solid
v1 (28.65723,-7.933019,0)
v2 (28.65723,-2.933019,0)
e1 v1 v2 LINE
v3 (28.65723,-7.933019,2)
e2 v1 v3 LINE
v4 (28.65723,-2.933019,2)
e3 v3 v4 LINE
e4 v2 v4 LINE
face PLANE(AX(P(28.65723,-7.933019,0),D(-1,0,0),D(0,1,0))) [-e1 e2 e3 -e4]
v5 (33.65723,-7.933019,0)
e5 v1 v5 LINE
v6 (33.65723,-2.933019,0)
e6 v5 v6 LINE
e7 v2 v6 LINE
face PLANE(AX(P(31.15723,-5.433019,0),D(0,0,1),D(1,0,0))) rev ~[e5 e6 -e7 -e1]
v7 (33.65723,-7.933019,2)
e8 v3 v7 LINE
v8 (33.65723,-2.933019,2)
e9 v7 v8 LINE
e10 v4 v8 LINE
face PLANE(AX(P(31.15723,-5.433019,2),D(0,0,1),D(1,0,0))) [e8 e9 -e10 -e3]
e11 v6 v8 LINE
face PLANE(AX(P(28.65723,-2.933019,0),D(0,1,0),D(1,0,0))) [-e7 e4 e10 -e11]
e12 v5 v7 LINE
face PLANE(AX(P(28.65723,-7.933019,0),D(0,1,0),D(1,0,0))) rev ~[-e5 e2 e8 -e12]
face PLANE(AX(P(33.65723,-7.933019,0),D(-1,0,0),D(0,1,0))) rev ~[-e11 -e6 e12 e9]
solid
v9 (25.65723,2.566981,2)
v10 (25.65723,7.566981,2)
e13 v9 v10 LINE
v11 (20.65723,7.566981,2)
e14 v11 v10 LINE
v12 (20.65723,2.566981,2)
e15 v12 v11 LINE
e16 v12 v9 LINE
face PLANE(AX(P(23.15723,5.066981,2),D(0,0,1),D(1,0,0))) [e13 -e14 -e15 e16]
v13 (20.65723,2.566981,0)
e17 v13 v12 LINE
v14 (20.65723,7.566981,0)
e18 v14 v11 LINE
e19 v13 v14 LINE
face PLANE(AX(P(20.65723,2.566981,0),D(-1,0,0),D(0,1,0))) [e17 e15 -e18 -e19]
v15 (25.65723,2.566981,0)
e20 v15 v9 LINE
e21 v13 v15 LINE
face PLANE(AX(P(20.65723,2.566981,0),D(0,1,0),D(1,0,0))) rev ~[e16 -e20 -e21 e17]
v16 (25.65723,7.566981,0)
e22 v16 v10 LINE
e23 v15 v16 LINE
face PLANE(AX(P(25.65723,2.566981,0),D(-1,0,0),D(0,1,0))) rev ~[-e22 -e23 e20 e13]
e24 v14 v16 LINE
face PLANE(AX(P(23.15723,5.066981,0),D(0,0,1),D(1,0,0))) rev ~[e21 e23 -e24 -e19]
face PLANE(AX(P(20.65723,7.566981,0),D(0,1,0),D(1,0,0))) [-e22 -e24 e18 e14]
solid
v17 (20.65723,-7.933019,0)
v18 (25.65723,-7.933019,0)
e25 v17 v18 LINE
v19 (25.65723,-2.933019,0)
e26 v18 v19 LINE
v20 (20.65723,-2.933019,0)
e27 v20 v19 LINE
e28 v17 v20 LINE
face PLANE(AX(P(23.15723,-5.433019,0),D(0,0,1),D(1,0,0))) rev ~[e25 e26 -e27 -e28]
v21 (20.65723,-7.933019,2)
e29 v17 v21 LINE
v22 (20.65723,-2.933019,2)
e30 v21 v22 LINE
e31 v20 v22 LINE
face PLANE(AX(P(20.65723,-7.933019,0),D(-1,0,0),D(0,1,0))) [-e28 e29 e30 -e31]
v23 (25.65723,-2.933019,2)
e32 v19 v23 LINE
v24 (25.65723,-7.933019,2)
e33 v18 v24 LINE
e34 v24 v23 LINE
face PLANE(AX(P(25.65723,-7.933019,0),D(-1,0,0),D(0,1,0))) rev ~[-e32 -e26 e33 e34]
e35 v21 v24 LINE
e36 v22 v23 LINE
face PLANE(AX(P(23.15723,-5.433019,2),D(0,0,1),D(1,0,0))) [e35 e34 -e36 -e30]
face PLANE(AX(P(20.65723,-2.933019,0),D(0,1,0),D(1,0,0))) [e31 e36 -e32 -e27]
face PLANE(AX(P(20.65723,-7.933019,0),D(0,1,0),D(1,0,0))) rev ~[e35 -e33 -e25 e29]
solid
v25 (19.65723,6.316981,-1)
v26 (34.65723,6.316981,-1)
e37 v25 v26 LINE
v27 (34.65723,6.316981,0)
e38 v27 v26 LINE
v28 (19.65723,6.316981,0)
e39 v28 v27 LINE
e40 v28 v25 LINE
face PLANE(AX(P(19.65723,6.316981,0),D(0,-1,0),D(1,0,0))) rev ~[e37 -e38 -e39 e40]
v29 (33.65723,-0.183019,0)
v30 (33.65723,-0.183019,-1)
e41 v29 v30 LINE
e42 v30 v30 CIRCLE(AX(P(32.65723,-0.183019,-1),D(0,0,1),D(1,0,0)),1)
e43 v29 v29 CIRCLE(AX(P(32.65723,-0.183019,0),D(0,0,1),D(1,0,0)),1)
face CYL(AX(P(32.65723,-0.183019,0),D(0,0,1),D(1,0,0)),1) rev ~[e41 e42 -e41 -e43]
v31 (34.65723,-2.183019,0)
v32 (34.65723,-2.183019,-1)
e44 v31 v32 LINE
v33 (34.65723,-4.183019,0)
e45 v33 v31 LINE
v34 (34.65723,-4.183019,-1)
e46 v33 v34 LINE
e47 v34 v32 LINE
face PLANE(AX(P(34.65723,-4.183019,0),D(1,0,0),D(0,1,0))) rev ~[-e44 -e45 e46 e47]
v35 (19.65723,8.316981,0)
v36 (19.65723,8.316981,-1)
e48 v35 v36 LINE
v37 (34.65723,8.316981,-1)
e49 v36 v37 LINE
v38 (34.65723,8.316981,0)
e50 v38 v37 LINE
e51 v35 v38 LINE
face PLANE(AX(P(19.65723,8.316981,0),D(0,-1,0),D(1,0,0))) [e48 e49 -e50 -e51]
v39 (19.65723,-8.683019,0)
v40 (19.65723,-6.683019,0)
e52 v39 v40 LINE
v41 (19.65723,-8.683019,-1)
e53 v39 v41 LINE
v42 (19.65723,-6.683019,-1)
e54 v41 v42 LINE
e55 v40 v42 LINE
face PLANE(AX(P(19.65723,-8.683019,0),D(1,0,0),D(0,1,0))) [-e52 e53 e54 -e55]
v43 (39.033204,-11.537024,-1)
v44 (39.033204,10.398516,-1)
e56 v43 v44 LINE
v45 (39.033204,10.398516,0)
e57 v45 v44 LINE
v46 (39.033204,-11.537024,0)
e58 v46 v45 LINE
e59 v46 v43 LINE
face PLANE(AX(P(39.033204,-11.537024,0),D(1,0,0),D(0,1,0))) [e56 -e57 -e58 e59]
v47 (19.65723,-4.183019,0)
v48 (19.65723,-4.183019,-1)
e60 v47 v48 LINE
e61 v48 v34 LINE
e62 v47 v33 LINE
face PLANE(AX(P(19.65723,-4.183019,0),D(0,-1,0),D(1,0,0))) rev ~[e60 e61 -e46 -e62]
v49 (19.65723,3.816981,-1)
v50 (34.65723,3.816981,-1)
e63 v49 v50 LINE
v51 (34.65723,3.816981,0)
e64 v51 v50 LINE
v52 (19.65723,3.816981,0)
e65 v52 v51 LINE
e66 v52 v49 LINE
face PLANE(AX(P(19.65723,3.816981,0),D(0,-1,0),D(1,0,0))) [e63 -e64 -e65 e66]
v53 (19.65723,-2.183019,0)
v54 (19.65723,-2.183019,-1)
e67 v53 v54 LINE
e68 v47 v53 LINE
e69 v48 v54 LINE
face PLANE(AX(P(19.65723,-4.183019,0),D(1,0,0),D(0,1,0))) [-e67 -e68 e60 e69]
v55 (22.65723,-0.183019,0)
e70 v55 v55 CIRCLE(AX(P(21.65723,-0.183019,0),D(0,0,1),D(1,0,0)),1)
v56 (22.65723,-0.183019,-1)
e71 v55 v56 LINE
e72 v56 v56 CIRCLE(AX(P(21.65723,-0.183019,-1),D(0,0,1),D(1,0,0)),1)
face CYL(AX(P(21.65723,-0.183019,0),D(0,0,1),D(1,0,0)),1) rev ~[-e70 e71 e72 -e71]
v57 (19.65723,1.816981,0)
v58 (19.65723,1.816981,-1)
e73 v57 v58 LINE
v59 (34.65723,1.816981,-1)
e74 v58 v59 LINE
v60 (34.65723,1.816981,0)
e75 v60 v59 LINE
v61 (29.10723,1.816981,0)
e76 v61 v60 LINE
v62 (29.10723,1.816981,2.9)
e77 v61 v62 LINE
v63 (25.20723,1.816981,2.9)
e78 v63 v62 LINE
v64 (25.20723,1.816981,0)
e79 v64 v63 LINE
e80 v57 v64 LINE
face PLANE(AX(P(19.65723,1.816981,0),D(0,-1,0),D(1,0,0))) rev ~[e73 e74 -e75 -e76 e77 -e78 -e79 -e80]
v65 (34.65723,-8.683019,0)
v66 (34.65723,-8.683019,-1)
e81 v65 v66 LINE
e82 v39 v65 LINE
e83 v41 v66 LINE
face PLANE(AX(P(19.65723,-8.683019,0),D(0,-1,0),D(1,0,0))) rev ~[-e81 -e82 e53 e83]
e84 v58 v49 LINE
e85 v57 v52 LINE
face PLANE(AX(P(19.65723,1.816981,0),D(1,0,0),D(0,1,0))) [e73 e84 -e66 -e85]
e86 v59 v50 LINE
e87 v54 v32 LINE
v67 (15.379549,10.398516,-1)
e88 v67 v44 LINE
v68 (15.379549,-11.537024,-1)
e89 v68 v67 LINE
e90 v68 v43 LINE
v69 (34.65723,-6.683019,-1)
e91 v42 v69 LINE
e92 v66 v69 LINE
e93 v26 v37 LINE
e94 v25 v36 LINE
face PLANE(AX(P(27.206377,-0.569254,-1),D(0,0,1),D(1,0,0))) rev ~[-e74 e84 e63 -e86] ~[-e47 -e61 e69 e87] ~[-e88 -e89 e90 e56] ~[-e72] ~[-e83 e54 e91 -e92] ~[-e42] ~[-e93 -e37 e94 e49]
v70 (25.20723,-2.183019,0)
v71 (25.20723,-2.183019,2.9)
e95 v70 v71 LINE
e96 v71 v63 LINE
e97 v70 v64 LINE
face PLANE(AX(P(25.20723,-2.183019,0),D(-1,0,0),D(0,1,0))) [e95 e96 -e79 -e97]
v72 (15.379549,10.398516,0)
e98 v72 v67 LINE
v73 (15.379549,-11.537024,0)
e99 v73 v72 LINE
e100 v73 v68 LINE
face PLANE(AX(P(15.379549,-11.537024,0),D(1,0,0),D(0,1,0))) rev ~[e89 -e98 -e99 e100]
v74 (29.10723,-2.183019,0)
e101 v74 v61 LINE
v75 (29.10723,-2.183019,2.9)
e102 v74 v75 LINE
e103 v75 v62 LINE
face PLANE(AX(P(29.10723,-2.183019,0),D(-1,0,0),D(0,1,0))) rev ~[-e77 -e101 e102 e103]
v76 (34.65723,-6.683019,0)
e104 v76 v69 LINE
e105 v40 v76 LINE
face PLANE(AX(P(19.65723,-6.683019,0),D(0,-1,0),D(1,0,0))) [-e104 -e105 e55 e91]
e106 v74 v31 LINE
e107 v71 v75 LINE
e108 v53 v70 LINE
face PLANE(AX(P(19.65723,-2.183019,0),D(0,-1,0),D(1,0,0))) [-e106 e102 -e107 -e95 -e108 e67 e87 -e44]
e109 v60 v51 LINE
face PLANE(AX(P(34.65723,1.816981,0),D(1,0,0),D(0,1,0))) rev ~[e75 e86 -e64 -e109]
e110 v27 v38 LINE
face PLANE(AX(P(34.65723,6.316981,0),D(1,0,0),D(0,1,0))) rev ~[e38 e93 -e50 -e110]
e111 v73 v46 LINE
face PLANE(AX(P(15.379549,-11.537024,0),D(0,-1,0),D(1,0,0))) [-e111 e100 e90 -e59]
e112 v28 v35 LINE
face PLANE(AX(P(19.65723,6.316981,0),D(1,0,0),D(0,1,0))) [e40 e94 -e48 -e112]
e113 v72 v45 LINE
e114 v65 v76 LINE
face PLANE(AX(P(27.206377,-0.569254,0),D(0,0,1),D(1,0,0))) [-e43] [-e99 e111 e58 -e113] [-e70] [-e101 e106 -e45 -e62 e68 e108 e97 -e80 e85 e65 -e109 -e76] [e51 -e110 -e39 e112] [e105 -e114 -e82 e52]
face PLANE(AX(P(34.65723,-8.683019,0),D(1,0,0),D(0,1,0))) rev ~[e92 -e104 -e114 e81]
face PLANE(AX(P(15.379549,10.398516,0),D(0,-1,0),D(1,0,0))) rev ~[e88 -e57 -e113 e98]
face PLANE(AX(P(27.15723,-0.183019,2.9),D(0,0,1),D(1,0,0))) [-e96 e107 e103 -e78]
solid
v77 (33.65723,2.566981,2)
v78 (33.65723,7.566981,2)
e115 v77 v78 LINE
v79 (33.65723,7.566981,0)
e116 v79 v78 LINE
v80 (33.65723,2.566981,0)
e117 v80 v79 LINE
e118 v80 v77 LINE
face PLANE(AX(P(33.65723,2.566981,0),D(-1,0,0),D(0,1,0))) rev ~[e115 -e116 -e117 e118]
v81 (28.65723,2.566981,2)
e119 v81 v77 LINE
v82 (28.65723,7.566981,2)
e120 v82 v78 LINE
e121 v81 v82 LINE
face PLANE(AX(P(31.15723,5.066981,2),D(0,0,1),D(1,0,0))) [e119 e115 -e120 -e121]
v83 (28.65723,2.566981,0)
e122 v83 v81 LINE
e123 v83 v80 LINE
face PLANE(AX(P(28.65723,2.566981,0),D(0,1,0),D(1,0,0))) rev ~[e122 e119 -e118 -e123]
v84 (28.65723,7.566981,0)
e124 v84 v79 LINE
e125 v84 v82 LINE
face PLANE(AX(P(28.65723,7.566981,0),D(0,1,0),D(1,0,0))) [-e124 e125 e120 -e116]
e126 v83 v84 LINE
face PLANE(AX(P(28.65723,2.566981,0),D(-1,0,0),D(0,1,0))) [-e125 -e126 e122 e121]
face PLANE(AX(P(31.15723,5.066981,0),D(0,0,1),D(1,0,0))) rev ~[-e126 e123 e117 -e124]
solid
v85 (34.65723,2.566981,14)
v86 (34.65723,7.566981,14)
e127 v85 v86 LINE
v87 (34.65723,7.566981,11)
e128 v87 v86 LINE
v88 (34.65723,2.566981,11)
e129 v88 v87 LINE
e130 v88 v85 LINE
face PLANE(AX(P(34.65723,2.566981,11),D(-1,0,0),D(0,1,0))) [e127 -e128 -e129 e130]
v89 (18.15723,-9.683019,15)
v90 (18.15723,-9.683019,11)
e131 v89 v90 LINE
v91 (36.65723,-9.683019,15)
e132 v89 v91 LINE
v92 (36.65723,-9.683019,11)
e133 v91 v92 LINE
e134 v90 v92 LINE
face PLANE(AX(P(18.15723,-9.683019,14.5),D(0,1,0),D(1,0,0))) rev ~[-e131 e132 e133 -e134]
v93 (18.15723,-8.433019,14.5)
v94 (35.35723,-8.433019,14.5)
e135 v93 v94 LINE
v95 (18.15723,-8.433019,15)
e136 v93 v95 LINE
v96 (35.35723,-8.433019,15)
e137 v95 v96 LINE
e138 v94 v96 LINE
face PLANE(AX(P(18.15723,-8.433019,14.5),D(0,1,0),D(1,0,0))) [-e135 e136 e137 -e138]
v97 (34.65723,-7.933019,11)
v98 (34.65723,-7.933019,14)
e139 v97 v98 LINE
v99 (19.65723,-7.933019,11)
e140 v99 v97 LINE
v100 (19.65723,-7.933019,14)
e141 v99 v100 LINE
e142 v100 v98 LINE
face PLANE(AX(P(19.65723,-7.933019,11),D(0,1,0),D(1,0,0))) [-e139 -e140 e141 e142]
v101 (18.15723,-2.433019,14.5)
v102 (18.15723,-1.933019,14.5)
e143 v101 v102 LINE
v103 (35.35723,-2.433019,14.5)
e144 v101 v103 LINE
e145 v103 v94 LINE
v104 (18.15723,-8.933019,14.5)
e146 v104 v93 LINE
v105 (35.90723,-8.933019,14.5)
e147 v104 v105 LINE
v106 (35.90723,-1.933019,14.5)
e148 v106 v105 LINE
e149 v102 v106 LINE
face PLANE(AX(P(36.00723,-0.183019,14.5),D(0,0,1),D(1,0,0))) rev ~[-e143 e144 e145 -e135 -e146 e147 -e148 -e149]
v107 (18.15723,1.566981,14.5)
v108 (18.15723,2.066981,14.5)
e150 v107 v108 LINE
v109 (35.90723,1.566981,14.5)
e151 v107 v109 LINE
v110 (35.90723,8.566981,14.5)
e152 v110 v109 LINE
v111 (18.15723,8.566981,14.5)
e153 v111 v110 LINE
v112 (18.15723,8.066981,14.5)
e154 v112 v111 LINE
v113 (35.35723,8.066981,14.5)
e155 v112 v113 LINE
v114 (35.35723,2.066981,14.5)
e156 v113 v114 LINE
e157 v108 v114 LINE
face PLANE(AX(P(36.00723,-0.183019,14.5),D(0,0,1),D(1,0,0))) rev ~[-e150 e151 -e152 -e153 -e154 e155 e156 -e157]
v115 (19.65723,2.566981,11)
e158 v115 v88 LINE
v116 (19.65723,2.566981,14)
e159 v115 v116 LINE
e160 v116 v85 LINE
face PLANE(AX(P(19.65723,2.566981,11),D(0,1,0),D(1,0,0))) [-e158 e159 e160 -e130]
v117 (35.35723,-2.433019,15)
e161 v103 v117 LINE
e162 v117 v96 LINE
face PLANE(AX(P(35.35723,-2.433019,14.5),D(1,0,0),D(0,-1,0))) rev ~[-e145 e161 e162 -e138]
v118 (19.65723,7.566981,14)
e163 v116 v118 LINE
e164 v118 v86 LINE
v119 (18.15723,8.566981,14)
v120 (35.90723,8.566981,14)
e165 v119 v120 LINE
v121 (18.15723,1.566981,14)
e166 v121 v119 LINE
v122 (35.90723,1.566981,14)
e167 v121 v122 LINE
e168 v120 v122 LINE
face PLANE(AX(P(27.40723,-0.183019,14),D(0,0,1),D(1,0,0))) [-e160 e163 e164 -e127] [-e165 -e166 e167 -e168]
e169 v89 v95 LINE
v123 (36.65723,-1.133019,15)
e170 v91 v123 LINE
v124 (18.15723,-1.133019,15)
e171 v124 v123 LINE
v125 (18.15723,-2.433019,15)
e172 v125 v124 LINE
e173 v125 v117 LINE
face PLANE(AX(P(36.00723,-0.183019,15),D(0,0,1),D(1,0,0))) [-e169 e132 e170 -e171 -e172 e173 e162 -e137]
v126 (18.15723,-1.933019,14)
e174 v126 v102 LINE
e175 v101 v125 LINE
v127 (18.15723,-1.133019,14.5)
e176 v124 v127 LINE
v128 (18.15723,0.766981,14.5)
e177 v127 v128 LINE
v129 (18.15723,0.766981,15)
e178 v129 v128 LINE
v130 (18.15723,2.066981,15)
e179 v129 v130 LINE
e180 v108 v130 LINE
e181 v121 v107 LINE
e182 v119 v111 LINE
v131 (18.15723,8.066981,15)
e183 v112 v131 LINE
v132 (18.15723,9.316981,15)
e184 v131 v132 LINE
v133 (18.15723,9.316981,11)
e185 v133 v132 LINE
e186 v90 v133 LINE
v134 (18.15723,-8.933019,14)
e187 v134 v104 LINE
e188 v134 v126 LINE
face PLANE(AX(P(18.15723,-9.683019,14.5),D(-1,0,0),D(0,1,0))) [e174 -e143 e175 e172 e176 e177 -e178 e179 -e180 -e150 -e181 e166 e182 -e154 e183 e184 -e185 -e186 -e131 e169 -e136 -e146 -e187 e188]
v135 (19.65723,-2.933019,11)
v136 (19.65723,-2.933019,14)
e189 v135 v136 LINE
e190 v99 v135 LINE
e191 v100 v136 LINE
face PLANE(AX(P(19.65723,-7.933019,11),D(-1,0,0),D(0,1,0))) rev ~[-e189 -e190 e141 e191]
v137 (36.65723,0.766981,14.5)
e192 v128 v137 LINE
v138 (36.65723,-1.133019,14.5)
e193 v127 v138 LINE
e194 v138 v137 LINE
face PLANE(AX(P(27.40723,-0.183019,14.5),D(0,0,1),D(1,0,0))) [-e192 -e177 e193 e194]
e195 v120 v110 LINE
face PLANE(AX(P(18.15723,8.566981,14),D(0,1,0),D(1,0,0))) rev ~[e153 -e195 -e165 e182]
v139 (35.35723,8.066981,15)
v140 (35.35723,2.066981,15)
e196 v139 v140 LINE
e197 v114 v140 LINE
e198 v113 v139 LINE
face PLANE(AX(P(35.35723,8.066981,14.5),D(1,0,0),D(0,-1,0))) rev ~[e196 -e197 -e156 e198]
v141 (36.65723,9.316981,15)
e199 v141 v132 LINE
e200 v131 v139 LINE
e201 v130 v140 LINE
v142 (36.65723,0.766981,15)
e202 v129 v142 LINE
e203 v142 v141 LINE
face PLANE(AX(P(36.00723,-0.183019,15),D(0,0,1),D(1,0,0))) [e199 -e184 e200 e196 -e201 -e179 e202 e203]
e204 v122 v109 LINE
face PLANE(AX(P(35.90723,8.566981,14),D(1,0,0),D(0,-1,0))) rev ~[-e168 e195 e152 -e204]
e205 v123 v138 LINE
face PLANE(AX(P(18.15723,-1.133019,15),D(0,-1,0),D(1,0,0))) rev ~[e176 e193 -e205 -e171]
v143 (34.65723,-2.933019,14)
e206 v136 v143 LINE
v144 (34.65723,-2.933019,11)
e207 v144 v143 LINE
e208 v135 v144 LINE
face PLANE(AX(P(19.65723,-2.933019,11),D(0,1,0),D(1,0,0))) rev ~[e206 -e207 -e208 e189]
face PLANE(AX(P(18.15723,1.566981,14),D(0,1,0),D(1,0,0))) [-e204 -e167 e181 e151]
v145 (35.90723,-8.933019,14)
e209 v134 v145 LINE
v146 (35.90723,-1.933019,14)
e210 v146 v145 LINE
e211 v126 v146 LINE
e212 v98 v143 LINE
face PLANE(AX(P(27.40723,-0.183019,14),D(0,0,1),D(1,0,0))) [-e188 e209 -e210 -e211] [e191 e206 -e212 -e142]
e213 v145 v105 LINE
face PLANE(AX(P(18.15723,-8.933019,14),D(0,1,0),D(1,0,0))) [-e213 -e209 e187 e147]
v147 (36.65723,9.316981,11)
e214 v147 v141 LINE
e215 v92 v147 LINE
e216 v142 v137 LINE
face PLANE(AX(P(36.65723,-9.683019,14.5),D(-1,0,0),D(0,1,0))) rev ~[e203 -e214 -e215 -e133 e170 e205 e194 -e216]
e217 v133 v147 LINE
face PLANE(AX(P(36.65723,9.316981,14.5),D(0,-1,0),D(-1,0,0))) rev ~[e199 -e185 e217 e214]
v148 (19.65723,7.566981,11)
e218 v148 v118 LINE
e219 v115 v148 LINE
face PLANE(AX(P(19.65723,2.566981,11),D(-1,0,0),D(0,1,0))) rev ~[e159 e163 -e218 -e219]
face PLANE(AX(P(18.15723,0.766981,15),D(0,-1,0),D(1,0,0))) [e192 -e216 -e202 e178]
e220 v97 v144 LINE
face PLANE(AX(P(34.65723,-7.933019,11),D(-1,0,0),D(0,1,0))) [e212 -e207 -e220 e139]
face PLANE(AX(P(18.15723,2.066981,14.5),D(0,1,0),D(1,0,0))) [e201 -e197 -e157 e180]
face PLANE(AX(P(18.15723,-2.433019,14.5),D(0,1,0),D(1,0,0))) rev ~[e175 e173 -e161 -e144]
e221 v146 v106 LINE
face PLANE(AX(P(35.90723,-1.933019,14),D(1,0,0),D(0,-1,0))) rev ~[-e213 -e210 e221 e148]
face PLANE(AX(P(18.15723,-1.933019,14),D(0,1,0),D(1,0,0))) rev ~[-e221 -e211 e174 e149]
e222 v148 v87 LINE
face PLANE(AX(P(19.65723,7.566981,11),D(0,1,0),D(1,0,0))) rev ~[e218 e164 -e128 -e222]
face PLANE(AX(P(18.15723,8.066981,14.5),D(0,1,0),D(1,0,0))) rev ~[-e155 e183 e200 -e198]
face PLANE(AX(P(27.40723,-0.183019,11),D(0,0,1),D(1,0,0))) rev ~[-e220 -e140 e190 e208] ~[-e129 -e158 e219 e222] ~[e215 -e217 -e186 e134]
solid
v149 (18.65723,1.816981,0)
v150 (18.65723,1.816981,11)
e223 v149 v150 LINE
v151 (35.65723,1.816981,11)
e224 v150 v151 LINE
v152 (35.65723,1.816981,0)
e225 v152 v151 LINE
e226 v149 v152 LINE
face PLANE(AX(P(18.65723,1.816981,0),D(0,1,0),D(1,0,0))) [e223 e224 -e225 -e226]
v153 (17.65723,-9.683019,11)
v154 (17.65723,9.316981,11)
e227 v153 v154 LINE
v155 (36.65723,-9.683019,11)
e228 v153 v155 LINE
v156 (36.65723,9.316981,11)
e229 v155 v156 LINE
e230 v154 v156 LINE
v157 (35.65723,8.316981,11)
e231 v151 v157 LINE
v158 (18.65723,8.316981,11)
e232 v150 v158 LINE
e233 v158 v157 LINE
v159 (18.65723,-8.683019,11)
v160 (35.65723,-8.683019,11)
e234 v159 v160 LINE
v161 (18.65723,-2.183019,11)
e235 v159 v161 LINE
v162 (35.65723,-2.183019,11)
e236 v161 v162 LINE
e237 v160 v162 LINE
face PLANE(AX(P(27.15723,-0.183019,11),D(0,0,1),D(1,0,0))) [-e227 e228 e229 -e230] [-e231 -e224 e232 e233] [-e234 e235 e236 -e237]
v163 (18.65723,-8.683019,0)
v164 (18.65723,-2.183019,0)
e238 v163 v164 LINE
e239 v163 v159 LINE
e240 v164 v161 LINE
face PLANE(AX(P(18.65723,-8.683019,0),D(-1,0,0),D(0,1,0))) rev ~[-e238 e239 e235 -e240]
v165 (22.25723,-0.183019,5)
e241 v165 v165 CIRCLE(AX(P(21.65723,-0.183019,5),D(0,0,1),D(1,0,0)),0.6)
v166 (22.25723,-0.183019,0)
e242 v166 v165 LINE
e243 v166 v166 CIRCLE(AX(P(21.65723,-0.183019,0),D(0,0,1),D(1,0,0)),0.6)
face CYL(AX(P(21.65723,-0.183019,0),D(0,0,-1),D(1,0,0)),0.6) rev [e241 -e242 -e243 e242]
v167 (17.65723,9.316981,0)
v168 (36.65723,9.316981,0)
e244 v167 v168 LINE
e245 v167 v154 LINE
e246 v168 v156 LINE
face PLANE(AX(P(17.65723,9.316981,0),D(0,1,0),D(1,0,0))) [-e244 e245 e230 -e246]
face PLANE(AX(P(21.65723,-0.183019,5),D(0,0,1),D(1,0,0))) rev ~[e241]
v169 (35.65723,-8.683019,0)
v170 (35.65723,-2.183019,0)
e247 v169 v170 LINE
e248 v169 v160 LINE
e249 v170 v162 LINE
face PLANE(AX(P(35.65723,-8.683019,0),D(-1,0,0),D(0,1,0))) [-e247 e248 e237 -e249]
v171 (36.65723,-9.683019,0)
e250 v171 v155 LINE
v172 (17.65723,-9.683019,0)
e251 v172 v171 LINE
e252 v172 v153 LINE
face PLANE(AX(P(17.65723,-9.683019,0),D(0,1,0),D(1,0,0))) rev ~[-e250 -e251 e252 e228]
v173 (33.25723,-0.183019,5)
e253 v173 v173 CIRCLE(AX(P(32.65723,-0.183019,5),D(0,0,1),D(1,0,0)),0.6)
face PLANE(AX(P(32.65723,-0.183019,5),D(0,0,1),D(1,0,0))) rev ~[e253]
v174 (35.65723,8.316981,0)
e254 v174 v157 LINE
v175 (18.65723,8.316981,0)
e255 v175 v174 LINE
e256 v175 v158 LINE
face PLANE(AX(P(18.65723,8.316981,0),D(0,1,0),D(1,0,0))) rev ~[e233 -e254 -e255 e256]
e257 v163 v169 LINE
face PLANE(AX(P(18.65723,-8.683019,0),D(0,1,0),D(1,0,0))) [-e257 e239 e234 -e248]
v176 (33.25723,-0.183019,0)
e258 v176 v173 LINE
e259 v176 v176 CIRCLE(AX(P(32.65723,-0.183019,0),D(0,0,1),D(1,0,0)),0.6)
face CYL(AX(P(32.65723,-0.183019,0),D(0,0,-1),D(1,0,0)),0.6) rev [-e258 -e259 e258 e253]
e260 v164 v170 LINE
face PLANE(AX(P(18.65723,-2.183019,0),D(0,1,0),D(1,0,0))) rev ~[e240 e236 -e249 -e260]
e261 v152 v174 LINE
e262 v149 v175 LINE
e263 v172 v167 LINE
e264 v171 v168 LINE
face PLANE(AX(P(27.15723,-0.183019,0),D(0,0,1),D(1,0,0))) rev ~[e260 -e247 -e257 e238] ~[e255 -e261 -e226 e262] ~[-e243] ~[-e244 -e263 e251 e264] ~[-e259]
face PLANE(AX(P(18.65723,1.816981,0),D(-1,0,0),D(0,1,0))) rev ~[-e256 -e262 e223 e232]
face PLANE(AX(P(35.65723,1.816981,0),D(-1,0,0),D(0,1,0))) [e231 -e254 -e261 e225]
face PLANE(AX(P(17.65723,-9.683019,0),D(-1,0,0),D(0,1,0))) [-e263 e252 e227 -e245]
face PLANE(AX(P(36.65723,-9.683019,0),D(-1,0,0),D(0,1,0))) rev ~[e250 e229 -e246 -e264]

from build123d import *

# Parameters (mm, degrees)
F0_W      = 19
F0_H      = 19
F0_W_2    = 17
F0_H_2    = 6.5
F1_DEPTH  = 11
F2_W      = 5
F2_H      = 5
F3_DEPTH  = 2
F4_W      = 18.5
F4_H      = 19
F4_W_2    = 15
F4_H_2    = 5
F5_DEPTH  = 3
F6_W      = 17.75
F6_H      = 0.75
F6_H_2    = 3.5
F7_DEPTH  = 0.5
F8_W      = 17.2
F8_H      = 1.25
F8_H_2    = 4.5
F9_DEPTH  = 0.5
F10_W     = 18.5
F10_H     = 1.9
F11_DEPTH = 0.5
F12_W     = 23.653655313
F12_H     = 21.9355393201
F12_W_2   = 15
F12_H_2   = 2
F12_R     = 1
F13_DEPTH = 1
F14_W     = 3.9
F14_H     = 4
F15_DEPTH = 2.9
F16_R     = 0.6
F17_DEPTH = 5


with BuildPart() as f1:
    # F0 (on Top) → F1 (new body)
    with BuildSketch(Plane.XY):
        with Locations((27.1572303065, -0.1830193214)):
            Rectangle(F0_W, F0_H)
        with Locations((27.1572303065, -5.4330193214)):
            Rectangle(F0_W_2, F0_H_2, mode=Mode.SUBTRACT)
        with Locations((27.1572303065, 5.0669806786)):
            Rectangle(F0_W_2, F0_H_2, mode=Mode.SUBTRACT)
    extrude(amount=F1_DEPTH)

    # F16 (on face) → F17 (cut)
    with BuildSketch(Plane.XY):
        with Locations((21.6572303065, -0.1830193214)):
            Circle(F16_R)
        with Locations((32.6572303065, -0.1830193214)):
            Circle(F16_R)
    extrude(amount=F17_DEPTH, mode=Mode.SUBTRACT)


with BuildPart() as f3:
    # F2 (on Top) → F3 (new body)
    with BuildSketch(Plane.XY):
        with Locations((23.1572303065, 5.0669806786)):
            Rectangle(F2_W, F2_H)
    extrude(amount=F3_DEPTH)


with BuildPart() as f3b:
    # F2 (on Top) → F3, piece 2 (new body)
    with BuildSketch(Plane.XY):
        with Locations((23.1572303065, -5.4330193214)):
            Rectangle(F2_W, F2_H)
    extrude(amount=F3_DEPTH)


with BuildPart() as f3c:
    # F2 (on Top) → F3, piece 3 (new body)
    with BuildSketch(Plane.XY):
        with Locations((31.1572303065, 5.0669806786)):
            Rectangle(F2_W, F2_H)
    extrude(amount=F3_DEPTH)


with BuildPart() as f3d:
    # F2 (on Top) → F3, piece 4 (new body)
    with BuildSketch(Plane.XY):
        with Locations((31.1572303065, -5.4330193214)):
            Rectangle(F2_W, F2_H)
    extrude(amount=F3_DEPTH)


with BuildPart() as f5:
    # F4 (on face) → F5 (new body)
    with BuildSketch(Plane.XY.offset(11)):
        with Locations((27.4072303065, -0.1830193214)):
            Rectangle(F4_W, F4_H)
        with Locations((27.1572303065, -5.4330193214)):
            Rectangle(F4_W_2, F4_H_2, mode=Mode.SUBTRACT)
        with Locations((27.1572303065, 5.0669806786)):
            Rectangle(F4_W_2, F4_H_2, mode=Mode.SUBTRACT)
    extrude(amount=F5_DEPTH)

    # F6 (on face) → F7 (join)
    with BuildSketch(Plane.XY.offset(14)):
        Polygon((36.6572303065, -9.6830193214), (36.6572303065, 9.3169806786), (35.9072303065, 9.3169806786), (35.9072303065, 8.5669806786), (35.9072303065, 1.5669806786), (35.9072303065, -1.9330193214), (35.9072303065, -8.9330193214), (35.9072303065, -9.6830193214), align=None)
        with Locations((27.0322303065, 8.9419806786)):
            Rectangle(F6_W, F6_H)
        with Locations((27.0322303065, -9.3080193214)):
            Rectangle(F6_W, F6_H)
        with Locations((27.0322303065, -0.1830193214)):
            Rectangle(F6_W, F6_H_2)
    extrude(amount=F7_DEPTH)

    # F8 (on face) → F9 (join)
    with BuildSketch(Plane.XY.offset(14.5)):
        Polygon((36.6572303065, -9.6830193214), (36.6572303065, 9.3169806786), (35.3572303065, 9.3169806786), (35.3572303065, 8.0669806786), (35.3572303065, 2.0669806786), (35.3572303065, -2.4330193214), (35.3572303065, -8.4330193214), (35.3572303065, -9.6830193214), align=None)
        with Locations((26.7572303065, 8.6919806786)):
            Rectangle(F8_W, F8_H)
        with Locations((26.7572303065, -9.0580193214)):
            Rectangle(F8_W, F8_H)
        with Locations((26.7572303065, -0.1830193214)):
            Rectangle(F8_W, F8_H_2)
    extrude(amount=F9_DEPTH)

    # F10 (on face) → F11 (cut)
    with BuildSketch(Plane.XY.offset(15)):
        with Locations((27.4072303065, -0.1830193214)):
            Rectangle(F10_W, F10_H)
    extrude(amount=-F11_DEPTH, mode=Mode.SUBTRACT)


with BuildPart() as f13:
    # F12 (on Top) → F13 (new body)
    with BuildSketch(Plane.XY):
        with Locations((27.2063766606, -0.5692541599)):
            Rectangle(F12_W, F12_H)
        with Locations((27.1572303065, -7.6830193214)):
            Rectangle(F12_W_2, F12_H_2, mode=Mode.SUBTRACT)
        with Locations((27.1572303065, -3.1830193214)):
            Rectangle(F12_W_2, F12_H_2, mode=Mode.SUBTRACT)
        with Locations((21.6572303065, -0.1830193214)):
            Circle(F12_R, mode=Mode.SUBTRACT)
        with Locations((27.1572303065, 2.8169806786)):
            Rectangle(F12_W_2, F12_H_2, mode=Mode.SUBTRACT)
        with Locations((27.1572303065, 7.3169806786)):
            Rectangle(F12_W_2, F12_H_2, mode=Mode.SUBTRACT)
        with Locations((32.6572303065, -0.1830193214)):
            Circle(F12_R, mode=Mode.SUBTRACT)
    extrude(amount=-F13_DEPTH)

    # F14 (on face) → F15 (join)
    with BuildSketch(Plane.XY):
        with Locations((27.1572303065, -0.1830193214)):
            Rectangle(F14_W, F14_H)
    extrude(amount=F15_DEPTH)


solid = Compound([f1.part, f3.part, f3b.part, f3c.part, f3d.part, f5.part, f13.part])
